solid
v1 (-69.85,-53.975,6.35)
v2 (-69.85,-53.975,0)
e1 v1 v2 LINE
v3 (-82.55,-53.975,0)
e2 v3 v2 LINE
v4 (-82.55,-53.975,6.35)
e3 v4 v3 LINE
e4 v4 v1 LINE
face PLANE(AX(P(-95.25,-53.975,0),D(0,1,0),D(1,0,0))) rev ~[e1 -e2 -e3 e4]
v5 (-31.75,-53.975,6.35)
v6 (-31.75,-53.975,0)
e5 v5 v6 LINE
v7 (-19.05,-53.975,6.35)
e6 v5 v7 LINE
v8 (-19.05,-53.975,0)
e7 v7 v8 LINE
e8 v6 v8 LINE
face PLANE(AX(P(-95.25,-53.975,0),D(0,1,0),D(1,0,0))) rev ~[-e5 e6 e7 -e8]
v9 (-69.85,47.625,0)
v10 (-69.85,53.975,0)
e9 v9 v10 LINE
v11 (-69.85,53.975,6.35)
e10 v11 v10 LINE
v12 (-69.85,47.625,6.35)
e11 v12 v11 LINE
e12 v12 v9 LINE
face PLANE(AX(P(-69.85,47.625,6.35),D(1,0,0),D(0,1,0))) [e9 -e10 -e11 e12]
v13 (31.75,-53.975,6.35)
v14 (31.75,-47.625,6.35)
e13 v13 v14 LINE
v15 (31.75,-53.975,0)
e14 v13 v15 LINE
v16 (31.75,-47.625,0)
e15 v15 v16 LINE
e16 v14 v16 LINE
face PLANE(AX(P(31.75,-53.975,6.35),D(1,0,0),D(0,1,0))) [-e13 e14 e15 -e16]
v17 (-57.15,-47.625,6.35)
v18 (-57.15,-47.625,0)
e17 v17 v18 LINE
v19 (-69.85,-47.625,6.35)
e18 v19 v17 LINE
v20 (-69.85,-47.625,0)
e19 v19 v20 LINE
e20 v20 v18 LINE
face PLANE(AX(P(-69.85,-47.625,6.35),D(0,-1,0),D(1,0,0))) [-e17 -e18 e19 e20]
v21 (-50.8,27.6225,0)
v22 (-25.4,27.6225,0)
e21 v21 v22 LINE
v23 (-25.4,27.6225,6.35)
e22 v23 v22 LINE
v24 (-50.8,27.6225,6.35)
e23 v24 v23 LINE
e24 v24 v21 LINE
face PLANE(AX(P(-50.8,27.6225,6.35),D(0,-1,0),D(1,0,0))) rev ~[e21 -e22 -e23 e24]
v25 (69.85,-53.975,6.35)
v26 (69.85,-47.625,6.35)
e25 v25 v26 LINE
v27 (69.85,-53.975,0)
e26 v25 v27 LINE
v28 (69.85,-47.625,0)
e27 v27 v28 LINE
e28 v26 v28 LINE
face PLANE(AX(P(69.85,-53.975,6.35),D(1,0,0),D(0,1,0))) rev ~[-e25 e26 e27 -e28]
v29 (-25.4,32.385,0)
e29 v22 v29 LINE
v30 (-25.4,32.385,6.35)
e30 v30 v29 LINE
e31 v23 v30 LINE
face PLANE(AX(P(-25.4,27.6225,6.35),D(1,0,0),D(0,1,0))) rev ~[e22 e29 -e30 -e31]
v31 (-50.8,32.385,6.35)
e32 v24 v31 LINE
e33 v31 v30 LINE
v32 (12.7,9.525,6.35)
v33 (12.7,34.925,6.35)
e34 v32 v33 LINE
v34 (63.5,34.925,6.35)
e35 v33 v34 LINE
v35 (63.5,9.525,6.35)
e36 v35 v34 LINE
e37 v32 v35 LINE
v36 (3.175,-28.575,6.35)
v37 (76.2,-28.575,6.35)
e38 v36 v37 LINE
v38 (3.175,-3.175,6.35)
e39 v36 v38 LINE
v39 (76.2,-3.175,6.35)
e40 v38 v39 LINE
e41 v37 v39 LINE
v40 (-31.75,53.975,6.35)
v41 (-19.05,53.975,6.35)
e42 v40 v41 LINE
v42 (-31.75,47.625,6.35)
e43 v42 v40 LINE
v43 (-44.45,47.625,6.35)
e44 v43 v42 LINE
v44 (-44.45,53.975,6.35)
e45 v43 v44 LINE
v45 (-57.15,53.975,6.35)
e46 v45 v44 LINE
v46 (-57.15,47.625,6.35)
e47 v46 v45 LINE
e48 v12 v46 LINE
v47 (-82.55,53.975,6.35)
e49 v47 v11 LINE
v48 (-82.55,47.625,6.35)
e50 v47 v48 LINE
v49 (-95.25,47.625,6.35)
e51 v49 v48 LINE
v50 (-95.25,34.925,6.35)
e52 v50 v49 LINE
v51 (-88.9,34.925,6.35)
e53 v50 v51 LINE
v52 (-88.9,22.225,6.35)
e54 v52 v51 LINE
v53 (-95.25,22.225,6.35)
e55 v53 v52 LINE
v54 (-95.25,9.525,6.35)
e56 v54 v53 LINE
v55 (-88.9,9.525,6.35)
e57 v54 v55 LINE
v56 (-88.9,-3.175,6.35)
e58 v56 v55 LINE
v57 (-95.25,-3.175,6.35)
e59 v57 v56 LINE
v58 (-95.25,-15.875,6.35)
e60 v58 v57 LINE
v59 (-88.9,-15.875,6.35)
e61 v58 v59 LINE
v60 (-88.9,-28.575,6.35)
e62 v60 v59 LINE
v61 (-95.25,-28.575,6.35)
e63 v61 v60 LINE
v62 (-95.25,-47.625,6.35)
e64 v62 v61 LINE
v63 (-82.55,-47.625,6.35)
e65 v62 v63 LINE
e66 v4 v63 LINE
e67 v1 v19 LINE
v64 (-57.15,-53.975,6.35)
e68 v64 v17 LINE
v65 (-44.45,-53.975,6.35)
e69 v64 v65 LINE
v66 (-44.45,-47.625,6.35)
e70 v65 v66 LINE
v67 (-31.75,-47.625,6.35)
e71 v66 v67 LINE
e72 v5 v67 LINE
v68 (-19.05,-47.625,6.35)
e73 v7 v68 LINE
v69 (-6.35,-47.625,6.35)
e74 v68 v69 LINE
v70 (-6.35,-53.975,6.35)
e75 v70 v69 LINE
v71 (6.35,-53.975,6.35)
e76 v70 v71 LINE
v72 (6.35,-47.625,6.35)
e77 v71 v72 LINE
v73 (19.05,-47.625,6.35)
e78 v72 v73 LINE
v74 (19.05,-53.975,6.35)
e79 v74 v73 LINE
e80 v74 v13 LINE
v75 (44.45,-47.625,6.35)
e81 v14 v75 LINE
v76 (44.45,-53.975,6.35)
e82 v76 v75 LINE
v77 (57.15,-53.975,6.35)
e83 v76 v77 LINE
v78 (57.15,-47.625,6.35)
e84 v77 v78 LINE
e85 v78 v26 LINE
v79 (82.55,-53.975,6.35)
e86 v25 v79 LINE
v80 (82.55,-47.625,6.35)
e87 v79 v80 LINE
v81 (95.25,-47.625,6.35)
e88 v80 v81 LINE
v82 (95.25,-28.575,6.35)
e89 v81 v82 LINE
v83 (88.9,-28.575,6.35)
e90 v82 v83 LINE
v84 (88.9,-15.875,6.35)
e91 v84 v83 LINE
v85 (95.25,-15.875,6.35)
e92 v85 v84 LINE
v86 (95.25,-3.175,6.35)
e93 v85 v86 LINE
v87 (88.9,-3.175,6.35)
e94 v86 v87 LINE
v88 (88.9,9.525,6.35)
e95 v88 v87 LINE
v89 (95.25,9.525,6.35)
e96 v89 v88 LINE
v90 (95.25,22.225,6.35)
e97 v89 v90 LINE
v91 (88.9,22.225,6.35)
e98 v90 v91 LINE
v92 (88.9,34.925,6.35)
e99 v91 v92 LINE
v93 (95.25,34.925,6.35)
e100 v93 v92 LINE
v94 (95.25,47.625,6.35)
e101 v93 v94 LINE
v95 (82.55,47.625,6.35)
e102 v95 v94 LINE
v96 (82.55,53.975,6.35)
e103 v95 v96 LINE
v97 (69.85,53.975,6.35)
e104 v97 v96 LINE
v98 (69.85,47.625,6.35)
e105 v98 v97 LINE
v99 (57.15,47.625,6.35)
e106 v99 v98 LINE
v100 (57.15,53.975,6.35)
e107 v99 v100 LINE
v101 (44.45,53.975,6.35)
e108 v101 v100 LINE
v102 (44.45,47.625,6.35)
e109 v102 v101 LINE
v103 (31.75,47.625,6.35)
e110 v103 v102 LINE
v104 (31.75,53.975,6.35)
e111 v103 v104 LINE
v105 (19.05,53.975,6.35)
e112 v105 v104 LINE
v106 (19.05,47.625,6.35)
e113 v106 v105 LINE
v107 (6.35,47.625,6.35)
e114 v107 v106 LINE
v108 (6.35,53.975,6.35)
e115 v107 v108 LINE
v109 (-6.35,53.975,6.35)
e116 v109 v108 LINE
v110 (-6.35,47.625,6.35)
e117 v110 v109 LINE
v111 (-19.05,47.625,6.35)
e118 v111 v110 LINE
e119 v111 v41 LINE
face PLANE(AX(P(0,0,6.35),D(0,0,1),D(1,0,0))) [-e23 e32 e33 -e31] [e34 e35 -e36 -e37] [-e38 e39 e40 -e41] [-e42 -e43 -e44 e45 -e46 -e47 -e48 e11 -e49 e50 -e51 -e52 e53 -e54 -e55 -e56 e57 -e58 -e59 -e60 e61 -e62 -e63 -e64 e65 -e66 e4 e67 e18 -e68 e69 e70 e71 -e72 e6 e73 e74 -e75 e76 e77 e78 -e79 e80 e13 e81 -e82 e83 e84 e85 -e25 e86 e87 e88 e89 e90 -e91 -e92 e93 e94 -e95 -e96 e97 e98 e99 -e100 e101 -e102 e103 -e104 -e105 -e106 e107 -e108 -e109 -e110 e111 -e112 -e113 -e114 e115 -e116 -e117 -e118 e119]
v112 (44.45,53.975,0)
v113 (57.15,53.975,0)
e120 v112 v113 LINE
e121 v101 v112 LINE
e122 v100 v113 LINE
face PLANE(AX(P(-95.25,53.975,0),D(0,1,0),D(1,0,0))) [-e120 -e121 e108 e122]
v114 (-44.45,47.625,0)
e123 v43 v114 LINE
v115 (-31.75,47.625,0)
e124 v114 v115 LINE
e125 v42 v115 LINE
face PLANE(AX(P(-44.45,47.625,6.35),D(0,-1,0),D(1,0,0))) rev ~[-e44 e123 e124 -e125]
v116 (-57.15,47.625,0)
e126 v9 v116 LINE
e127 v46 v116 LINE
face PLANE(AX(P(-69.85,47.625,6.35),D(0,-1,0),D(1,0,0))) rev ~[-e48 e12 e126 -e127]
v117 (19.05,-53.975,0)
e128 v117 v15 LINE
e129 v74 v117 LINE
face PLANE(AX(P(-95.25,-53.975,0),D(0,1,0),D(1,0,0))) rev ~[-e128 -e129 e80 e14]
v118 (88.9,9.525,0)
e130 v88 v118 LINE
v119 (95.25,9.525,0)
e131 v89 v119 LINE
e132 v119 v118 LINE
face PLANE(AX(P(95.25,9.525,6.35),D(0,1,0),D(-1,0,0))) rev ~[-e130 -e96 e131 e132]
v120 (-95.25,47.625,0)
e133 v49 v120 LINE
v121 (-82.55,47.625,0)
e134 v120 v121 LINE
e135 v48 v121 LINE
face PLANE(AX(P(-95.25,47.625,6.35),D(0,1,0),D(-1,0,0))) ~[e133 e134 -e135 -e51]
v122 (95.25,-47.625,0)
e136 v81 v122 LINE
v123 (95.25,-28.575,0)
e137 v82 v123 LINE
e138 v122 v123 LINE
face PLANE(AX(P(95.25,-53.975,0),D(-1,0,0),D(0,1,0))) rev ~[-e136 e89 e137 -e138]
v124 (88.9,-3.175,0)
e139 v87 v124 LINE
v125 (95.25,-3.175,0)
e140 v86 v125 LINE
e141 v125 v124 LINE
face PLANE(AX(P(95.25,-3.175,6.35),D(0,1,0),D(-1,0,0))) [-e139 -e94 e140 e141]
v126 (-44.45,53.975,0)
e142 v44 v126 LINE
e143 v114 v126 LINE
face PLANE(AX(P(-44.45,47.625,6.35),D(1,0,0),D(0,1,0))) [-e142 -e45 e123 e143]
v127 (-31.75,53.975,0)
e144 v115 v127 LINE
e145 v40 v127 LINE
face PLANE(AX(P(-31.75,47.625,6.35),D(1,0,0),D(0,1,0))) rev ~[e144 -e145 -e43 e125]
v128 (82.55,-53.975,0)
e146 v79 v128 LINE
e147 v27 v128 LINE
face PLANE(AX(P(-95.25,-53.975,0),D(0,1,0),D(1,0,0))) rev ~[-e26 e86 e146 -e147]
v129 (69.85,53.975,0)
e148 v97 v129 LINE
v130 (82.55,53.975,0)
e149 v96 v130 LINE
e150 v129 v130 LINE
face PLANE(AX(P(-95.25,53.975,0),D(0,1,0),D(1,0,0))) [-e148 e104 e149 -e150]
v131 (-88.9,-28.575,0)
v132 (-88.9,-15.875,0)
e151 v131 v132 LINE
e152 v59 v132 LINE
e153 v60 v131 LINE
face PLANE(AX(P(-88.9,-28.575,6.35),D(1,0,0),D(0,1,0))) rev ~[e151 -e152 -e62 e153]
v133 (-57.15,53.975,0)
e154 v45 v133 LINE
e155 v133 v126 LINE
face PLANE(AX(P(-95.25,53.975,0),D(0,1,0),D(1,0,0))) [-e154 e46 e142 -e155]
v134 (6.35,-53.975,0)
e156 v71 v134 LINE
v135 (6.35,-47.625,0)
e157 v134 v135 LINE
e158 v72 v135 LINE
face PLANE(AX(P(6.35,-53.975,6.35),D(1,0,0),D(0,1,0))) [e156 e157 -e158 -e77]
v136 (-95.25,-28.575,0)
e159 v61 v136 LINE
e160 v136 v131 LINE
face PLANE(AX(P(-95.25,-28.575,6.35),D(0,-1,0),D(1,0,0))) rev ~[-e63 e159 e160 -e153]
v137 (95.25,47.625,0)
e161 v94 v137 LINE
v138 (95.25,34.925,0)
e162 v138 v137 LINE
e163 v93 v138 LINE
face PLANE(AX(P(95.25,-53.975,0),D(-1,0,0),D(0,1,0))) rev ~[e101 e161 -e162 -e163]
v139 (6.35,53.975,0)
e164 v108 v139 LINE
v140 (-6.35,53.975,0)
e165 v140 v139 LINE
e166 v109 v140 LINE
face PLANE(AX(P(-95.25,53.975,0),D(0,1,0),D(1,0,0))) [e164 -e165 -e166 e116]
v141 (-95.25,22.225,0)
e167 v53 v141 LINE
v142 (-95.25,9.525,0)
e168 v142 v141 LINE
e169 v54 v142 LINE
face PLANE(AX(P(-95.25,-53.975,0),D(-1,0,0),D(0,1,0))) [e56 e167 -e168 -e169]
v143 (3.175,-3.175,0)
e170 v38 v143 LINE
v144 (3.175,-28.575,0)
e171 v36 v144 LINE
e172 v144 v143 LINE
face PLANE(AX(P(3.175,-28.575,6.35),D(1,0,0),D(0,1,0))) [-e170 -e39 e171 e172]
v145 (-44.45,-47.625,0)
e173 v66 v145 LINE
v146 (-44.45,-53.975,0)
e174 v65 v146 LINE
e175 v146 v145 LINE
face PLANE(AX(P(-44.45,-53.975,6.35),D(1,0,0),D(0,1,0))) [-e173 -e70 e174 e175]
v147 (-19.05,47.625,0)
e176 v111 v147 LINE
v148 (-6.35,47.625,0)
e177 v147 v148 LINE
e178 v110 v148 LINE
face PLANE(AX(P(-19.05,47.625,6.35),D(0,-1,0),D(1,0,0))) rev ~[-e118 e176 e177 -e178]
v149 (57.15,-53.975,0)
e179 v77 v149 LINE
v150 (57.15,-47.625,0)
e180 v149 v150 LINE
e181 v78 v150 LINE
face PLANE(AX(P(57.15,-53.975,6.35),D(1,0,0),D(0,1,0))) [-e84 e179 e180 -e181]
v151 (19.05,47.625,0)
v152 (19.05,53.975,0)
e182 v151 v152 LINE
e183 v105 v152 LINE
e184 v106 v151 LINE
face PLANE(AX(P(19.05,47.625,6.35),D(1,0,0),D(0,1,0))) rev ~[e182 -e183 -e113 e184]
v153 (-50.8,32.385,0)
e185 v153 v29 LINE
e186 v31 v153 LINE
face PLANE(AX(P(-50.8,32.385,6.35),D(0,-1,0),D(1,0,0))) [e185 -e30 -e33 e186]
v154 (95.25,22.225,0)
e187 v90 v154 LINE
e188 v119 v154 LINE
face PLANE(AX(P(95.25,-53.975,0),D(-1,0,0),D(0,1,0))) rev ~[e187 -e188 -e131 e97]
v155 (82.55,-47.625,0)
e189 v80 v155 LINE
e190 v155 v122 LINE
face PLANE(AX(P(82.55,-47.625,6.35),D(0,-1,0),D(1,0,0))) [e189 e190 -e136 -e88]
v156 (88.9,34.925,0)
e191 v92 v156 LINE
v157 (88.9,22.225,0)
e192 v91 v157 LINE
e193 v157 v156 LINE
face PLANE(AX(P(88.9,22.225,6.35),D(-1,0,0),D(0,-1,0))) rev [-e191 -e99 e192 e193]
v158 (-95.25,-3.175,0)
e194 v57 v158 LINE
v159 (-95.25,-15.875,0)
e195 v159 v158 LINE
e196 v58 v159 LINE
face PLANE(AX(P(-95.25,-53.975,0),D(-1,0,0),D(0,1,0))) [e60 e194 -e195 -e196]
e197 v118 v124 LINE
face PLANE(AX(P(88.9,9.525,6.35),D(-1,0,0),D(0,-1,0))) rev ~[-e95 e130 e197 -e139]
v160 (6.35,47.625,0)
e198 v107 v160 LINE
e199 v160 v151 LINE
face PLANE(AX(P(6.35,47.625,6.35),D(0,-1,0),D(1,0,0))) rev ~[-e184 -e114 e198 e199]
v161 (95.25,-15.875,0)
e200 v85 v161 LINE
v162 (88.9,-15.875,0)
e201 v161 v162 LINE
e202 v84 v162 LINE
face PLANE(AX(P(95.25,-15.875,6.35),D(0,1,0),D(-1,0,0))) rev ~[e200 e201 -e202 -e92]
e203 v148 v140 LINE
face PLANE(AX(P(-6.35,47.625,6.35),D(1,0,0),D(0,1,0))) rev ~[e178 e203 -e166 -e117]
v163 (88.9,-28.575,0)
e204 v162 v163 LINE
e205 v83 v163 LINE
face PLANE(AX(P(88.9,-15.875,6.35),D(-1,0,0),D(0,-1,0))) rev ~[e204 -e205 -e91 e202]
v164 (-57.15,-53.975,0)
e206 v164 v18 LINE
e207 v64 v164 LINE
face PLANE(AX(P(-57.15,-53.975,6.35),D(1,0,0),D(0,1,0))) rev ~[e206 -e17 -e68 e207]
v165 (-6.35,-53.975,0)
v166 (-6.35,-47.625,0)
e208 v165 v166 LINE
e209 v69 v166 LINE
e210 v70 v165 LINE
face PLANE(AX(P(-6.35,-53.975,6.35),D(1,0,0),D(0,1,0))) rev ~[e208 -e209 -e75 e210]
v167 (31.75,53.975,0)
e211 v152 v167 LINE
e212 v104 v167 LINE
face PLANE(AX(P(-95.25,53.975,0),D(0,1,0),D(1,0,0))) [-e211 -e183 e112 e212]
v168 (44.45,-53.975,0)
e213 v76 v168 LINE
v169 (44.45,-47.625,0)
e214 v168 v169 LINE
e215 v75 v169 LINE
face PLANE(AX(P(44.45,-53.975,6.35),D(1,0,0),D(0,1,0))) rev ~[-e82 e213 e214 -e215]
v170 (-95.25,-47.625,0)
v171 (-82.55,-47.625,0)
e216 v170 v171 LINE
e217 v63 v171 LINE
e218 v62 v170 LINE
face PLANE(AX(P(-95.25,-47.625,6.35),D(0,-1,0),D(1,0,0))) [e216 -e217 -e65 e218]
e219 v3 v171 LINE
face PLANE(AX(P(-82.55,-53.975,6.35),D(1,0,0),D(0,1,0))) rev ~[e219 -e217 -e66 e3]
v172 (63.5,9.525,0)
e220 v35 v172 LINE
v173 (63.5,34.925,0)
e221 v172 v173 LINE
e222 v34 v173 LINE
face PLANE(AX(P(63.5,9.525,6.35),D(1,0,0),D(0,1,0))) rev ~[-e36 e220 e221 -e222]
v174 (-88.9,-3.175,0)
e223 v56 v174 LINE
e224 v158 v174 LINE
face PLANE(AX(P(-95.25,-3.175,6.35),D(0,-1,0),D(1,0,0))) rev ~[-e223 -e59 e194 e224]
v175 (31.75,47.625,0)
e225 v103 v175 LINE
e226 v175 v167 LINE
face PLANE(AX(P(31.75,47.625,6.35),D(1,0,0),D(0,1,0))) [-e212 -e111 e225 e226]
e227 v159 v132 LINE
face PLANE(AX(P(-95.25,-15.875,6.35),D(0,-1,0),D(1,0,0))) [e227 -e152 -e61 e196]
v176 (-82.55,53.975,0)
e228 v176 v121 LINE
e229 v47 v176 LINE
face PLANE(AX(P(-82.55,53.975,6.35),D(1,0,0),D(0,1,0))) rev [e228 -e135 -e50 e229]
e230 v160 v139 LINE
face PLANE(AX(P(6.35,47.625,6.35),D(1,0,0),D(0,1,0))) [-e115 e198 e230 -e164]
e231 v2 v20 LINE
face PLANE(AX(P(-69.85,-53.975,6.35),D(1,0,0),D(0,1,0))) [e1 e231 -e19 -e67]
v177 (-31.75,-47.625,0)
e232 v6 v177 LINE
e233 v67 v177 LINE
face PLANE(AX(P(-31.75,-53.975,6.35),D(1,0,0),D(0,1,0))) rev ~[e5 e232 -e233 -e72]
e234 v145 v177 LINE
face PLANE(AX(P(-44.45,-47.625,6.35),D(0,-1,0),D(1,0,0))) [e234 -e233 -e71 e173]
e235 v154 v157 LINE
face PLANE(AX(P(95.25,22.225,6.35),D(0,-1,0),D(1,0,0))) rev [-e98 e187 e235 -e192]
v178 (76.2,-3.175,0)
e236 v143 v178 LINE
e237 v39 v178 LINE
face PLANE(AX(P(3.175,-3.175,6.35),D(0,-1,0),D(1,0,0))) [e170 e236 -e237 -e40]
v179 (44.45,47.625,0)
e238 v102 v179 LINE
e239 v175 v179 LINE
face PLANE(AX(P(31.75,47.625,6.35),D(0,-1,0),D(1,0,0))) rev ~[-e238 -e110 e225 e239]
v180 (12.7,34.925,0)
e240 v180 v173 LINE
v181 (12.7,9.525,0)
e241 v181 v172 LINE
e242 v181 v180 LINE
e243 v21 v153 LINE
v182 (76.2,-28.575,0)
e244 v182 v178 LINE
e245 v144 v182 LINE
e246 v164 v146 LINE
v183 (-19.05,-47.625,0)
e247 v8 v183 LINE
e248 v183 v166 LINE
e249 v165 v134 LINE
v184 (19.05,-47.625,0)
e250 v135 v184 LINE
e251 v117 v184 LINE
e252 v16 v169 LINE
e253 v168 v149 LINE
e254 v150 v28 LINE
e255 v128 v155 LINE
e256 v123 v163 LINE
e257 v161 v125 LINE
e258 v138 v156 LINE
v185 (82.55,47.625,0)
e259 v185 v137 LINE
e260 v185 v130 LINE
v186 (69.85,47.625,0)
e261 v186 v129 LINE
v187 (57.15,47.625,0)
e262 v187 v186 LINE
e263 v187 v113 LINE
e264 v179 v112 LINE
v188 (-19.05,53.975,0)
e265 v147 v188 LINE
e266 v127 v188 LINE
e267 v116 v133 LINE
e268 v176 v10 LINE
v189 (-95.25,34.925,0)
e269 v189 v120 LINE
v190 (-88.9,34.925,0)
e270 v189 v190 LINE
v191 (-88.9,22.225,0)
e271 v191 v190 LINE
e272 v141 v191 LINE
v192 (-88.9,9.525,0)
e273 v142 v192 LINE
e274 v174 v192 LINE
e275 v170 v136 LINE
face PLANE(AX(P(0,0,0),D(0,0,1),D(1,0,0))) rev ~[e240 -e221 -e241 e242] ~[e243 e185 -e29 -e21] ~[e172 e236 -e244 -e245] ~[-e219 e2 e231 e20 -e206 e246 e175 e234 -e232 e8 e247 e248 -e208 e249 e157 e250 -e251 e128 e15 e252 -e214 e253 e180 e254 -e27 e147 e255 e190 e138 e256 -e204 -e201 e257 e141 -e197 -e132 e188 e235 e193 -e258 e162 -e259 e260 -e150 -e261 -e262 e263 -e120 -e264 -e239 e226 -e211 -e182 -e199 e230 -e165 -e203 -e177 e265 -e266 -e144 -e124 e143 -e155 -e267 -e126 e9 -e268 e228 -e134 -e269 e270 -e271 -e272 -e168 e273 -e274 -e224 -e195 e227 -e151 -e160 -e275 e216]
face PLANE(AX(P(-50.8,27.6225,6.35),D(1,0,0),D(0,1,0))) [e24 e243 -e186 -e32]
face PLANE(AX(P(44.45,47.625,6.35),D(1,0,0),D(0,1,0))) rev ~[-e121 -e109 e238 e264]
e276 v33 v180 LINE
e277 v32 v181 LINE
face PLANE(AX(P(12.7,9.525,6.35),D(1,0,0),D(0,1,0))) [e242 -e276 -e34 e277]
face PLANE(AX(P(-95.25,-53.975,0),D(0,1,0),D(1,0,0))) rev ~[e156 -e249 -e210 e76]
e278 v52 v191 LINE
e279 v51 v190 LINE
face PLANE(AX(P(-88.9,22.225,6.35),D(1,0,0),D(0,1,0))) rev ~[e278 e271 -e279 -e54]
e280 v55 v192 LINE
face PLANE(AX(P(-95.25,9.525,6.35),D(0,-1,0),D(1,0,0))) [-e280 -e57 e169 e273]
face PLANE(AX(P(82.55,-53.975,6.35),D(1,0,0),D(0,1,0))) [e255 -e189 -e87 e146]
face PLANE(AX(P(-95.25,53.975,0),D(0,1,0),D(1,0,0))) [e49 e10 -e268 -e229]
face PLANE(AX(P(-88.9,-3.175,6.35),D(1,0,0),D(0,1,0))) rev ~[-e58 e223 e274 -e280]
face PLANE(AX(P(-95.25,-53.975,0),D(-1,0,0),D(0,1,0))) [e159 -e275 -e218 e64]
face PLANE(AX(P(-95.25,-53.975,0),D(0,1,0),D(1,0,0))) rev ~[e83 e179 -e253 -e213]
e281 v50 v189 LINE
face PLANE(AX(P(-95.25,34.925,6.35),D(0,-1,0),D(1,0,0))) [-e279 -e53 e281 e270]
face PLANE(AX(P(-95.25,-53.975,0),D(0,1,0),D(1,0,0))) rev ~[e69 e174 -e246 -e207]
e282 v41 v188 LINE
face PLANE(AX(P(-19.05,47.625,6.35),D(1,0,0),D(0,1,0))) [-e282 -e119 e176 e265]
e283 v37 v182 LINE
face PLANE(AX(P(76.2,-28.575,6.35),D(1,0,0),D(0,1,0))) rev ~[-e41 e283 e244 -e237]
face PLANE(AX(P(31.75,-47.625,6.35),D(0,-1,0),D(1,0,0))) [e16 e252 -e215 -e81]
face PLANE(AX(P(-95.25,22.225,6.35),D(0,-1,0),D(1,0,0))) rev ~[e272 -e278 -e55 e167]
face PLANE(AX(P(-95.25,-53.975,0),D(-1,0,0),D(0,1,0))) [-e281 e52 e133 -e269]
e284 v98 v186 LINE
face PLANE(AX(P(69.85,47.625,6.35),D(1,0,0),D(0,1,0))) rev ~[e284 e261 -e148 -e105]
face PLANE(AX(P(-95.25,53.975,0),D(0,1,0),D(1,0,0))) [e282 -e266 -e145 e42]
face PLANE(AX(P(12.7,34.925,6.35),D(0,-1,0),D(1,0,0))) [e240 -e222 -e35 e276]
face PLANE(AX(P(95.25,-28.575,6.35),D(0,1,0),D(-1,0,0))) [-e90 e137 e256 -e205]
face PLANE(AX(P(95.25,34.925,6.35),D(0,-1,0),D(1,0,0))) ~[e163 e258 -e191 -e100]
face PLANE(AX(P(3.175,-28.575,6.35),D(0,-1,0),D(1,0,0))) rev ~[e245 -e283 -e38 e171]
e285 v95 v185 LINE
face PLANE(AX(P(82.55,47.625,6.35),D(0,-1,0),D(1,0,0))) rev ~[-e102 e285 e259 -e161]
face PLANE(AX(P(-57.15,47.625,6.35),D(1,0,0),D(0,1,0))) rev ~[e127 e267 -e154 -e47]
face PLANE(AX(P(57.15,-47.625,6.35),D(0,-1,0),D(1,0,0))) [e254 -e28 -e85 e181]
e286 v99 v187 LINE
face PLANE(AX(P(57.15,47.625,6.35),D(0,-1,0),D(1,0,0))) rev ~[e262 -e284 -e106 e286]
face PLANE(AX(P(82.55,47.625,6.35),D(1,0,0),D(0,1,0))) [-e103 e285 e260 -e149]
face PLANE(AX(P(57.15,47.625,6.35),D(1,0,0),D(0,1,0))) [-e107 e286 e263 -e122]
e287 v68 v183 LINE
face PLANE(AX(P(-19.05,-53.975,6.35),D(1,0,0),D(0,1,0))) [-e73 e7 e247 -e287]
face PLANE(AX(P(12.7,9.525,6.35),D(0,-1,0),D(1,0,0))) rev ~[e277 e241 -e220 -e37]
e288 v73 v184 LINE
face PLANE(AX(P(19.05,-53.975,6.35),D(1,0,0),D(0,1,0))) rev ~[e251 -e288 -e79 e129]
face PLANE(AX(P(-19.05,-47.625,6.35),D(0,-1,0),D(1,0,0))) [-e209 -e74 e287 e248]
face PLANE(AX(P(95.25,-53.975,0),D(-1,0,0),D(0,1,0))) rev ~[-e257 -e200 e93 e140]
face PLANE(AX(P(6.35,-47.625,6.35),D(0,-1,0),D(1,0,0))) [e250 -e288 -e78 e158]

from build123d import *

# Parameters (mm, degrees)
SKETCH1_W               = 190.5
SKETCH1_H               = 107.95
BOSS_EXTRUDE1_DEPTH     = 6.35
SKETCH2_W               = 12.7
SKETCH2_H               = 6.35
CUT_EXTRUDE1_DEPTH      = 7.35
LPATTERN1_COUNT         = 8
LPATTERN1_PITCH         = 25.4
MIRROR1_COPY_1_SKETCH_W = 12.7
MIRROR1_COPY_1_SKETCH_H = 6.35
MIRROR1_COPY_1_DEPTH    = 7.35
MIRROR1_COPY_2_SKETCH_W = 12.7
MIRROR1_COPY_2_SKETCH_H = 6.35
MIRROR1_COPY_2_DEPTH    = 7.35
MIRROR1_COPY_3_SKETCH_W = 12.7
MIRROR1_COPY_3_SKETCH_H = 6.35
MIRROR1_COPY_3_DEPTH    = 7.35
MIRROR1_COPY_4_SKETCH_W = 12.7
MIRROR1_COPY_4_SKETCH_H = 6.35
MIRROR1_COPY_4_DEPTH    = 7.35
MIRROR1_COPY_5_SKETCH_W = 12.7
MIRROR1_COPY_5_SKETCH_H = 6.35
MIRROR1_COPY_5_DEPTH    = 7.35
MIRROR1_COPY_6_SKETCH_W = 12.7
MIRROR1_COPY_6_SKETCH_H = 6.35
MIRROR1_COPY_6_DEPTH    = 7.35
MIRROR1_COPY_7_SKETCH_W = 12.7
MIRROR1_COPY_7_SKETCH_H = 6.35
MIRROR1_COPY_7_DEPTH    = 7.35
SKETCH3_W               = 6.35
SKETCH3_H               = 12.7
CUT_EXTRUDE2_DEPTH      = 7.35
LPATTERN2_COUNT         = 3
LPATTERN2_PITCH         = 25.4
MIRROR2_COPY_1_SKETCH_W = 6.35
MIRROR2_COPY_1_SKETCH_H = 12.7
MIRROR2_COPY_1_DEPTH    = 7.35
MIRROR2_COPY_2_SKETCH_W = 6.35
MIRROR2_COPY_2_SKETCH_H = 12.7
MIRROR2_COPY_2_DEPTH    = 7.35
SKETCH4_W               = 25.4
SKETCH4_H               = 4.7625
CUT_EXTRUDE3_DEPTH      = 7.35
SKETCH5_W               = 73.025
SKETCH5_H               = 25.4
CUT_EXTRUDE4_DEPTH      = 7.35
SKETCH6_W               = 50.8
SKETCH6_H               = 25.4
CUT_EXTRUDE5_DEPTH      = 7.35


with BuildPart() as part:
    # Sketch1 → Boss-Extrude1 (new body)
    with BuildSketch(Plane.XY):
        Rectangle(SKETCH1_W, SKETCH1_H)
    extrude(amount=BOSS_EXTRUDE1_DEPTH)

    # Sketch2 → Cut-Extrude1 (cut, through all)
    with BuildSketch(Plane.XY.offset(6.35)):
        with Locations((-88.9, -50.8)):
            Rectangle(SKETCH2_W, SKETCH2_H)
    cut_extrude1 = extrude(amount=-CUT_EXTRUDE1_DEPTH, mode=Mode.SUBTRACT)

    # LPattern1: Cut-Extrude1 ×8
    with Locations(*[(i * LPATTERN1_PITCH, 0, 0) for i in range(1, LPATTERN1_COUNT)]):
        add(cut_extrude1, mode=Mode.SUBTRACT)

    # Mirror1: Cut-Extrude1 across plane
    add(cut_extrude1.mirror(Plane.ZX), mode=Mode.SUBTRACT)

    # Mirror1 copy 1 sketch → Mirror1 copy 1 (cut, through all)
    with BuildSketch(Plane(origin=(25.4, 0, 6.35), x_dir=(1, 0, 0), z_dir=(0, 0, 1))):
        with Locations((-88.9, 50.8)):
            Rectangle(MIRROR1_COPY_1_SKETCH_W, MIRROR1_COPY_1_SKETCH_H)
    extrude(amount=-MIRROR1_COPY_1_DEPTH, mode=Mode.SUBTRACT)

    # Mirror1 copy 2 sketch → Mirror1 copy 2 (cut, through all)
    with BuildSketch(Plane(origin=(50.8, 0, 6.35), x_dir=(1, 0, 0), z_dir=(0, 0, 1))):
        with Locations((-88.9, 50.8)):
            Rectangle(MIRROR1_COPY_2_SKETCH_W, MIRROR1_COPY_2_SKETCH_H)
    extrude(amount=-MIRROR1_COPY_2_DEPTH, mode=Mode.SUBTRACT)

    # Mirror1 copy 3 sketch → Mirror1 copy 3 (cut, through all)
    with BuildSketch(Plane(origin=(76.2, 0, 6.35), x_dir=(1, 0, 0), z_dir=(0, 0, 1))):
        with Locations((-88.9, 50.8)):
            Rectangle(MIRROR1_COPY_3_SKETCH_W, MIRROR1_COPY_3_SKETCH_H)
    extrude(amount=-MIRROR1_COPY_3_DEPTH, mode=Mode.SUBTRACT)

    # Mirror1 copy 4 sketch → Mirror1 copy 4 (cut, through all)
    with BuildSketch(Plane(origin=(101.6, 0, 6.35), x_dir=(1, 0, 0), z_dir=(0, 0, 1))):
        with Locations((-88.9, 50.8)):
            Rectangle(MIRROR1_COPY_4_SKETCH_W, MIRROR1_COPY_4_SKETCH_H)
    extrude(amount=-MIRROR1_COPY_4_DEPTH, mode=Mode.SUBTRACT)

    # Mirror1 copy 5 sketch → Mirror1 copy 5 (cut, through all)
    with BuildSketch(Plane(origin=(127, 0, 6.35), x_dir=(1, 0, 0), z_dir=(0, 0, 1))):
        with Locations((-88.9, 50.8)):
            Rectangle(MIRROR1_COPY_5_SKETCH_W, MIRROR1_COPY_5_SKETCH_H)
    extrude(amount=-MIRROR1_COPY_5_DEPTH, mode=Mode.SUBTRACT)

    # Mirror1 copy 6 sketch → Mirror1 copy 6 (cut, through all)
    with BuildSketch(Plane(origin=(152.4, 0, 6.35), x_dir=(1, 0, 0), z_dir=(0, 0, 1))):
        with Locations((-88.9, 50.8)):
            Rectangle(MIRROR1_COPY_6_SKETCH_W, MIRROR1_COPY_6_SKETCH_H)
    extrude(amount=-MIRROR1_COPY_6_DEPTH, mode=Mode.SUBTRACT)

    # Mirror1 copy 7 sketch → Mirror1 copy 7 (cut, through all)
    with BuildSketch(Plane(origin=(177.8, 0, 6.35), x_dir=(1, 0, 0), z_dir=(0, 0, 1))):
        with Locations((-88.9, 50.8)):
            Rectangle(MIRROR1_COPY_7_SKETCH_W, MIRROR1_COPY_7_SKETCH_H)
    extrude(amount=-MIRROR1_COPY_7_DEPTH, mode=Mode.SUBTRACT)

    # Sketch3 → Cut-Extrude2 (cut, through all)
    with BuildSketch(Plane.XY.offset(6.35)):
        with Locations((-92.075, 28.575)):
            Rectangle(SKETCH3_W, SKETCH3_H)
    cut_extrude2 = extrude(amount=-CUT_EXTRUDE2_DEPTH, mode=Mode.SUBTRACT)

    # LPattern2: Cut-Extrude2 ×3
    with Locations(*[(0, -i * LPATTERN2_PITCH, 0) for i in range(1, LPATTERN2_COUNT)]):
        add(cut_extrude2, mode=Mode.SUBTRACT)

    # Mirror2: Cut-Extrude2 across plane
    add(cut_extrude2.mirror(Plane(origin=(0, 0, 0), x_dir=(0, 0, 1), z_dir=(1, 0, 0))), mode=Mode.SUBTRACT)

    # Mirror2 copy 1 sketch → Mirror2 copy 1 (cut, through all)
    with BuildSketch(Plane(origin=(0, -25.4, 6.35), x_dir=(-1, 0, 0), z_dir=(0, 0, 1))):
        with Locations((-92.075, -28.575)):
            Rectangle(MIRROR2_COPY_1_SKETCH_W, MIRROR2_COPY_1_SKETCH_H)
    extrude(amount=-MIRROR2_COPY_1_DEPTH, mode=Mode.SUBTRACT)

    # Mirror2 copy 2 sketch → Mirror2 copy 2 (cut, through all)
    with BuildSketch(Plane(origin=(0, -50.8, 6.35), x_dir=(-1, 0, 0), z_dir=(0, 0, 1))):
        with Locations((-92.075, -28.575)):
            Rectangle(MIRROR2_COPY_2_SKETCH_W, MIRROR2_COPY_2_SKETCH_H)
    extrude(amount=-MIRROR2_COPY_2_DEPTH, mode=Mode.SUBTRACT)

    # Sketch4 → Cut-Extrude3 (cut, through all)
    with BuildSketch(Plane.XY.offset(6.35)):
        with Locations((-38.1, 30.00375)):
            Rectangle(SKETCH4_W, SKETCH4_H)
    extrude(amount=-CUT_EXTRUDE3_DEPTH, mode=Mode.SUBTRACT)

    # Sketch5 → Cut-Extrude4 (cut, through all)
    with BuildSketch(Plane.XY.offset(6.35)):
        with Locations((39.6875, -15.875)):
            Rectangle(SKETCH5_W, SKETCH5_H)
    extrude(amount=-CUT_EXTRUDE4_DEPTH, mode=Mode.SUBTRACT)

    # Sketch6 → Cut-Extrude5 (cut, through all)
    with BuildSketch(Plane.XY.offset(6.35)):
        with Locations((38.1, 22.225)):
            Rectangle(SKETCH6_W, SKETCH6_H)
    extrude(amount=-CUT_EXTRUDE5_DEPTH, mode=Mode.SUBTRACT)


solid = part.part
